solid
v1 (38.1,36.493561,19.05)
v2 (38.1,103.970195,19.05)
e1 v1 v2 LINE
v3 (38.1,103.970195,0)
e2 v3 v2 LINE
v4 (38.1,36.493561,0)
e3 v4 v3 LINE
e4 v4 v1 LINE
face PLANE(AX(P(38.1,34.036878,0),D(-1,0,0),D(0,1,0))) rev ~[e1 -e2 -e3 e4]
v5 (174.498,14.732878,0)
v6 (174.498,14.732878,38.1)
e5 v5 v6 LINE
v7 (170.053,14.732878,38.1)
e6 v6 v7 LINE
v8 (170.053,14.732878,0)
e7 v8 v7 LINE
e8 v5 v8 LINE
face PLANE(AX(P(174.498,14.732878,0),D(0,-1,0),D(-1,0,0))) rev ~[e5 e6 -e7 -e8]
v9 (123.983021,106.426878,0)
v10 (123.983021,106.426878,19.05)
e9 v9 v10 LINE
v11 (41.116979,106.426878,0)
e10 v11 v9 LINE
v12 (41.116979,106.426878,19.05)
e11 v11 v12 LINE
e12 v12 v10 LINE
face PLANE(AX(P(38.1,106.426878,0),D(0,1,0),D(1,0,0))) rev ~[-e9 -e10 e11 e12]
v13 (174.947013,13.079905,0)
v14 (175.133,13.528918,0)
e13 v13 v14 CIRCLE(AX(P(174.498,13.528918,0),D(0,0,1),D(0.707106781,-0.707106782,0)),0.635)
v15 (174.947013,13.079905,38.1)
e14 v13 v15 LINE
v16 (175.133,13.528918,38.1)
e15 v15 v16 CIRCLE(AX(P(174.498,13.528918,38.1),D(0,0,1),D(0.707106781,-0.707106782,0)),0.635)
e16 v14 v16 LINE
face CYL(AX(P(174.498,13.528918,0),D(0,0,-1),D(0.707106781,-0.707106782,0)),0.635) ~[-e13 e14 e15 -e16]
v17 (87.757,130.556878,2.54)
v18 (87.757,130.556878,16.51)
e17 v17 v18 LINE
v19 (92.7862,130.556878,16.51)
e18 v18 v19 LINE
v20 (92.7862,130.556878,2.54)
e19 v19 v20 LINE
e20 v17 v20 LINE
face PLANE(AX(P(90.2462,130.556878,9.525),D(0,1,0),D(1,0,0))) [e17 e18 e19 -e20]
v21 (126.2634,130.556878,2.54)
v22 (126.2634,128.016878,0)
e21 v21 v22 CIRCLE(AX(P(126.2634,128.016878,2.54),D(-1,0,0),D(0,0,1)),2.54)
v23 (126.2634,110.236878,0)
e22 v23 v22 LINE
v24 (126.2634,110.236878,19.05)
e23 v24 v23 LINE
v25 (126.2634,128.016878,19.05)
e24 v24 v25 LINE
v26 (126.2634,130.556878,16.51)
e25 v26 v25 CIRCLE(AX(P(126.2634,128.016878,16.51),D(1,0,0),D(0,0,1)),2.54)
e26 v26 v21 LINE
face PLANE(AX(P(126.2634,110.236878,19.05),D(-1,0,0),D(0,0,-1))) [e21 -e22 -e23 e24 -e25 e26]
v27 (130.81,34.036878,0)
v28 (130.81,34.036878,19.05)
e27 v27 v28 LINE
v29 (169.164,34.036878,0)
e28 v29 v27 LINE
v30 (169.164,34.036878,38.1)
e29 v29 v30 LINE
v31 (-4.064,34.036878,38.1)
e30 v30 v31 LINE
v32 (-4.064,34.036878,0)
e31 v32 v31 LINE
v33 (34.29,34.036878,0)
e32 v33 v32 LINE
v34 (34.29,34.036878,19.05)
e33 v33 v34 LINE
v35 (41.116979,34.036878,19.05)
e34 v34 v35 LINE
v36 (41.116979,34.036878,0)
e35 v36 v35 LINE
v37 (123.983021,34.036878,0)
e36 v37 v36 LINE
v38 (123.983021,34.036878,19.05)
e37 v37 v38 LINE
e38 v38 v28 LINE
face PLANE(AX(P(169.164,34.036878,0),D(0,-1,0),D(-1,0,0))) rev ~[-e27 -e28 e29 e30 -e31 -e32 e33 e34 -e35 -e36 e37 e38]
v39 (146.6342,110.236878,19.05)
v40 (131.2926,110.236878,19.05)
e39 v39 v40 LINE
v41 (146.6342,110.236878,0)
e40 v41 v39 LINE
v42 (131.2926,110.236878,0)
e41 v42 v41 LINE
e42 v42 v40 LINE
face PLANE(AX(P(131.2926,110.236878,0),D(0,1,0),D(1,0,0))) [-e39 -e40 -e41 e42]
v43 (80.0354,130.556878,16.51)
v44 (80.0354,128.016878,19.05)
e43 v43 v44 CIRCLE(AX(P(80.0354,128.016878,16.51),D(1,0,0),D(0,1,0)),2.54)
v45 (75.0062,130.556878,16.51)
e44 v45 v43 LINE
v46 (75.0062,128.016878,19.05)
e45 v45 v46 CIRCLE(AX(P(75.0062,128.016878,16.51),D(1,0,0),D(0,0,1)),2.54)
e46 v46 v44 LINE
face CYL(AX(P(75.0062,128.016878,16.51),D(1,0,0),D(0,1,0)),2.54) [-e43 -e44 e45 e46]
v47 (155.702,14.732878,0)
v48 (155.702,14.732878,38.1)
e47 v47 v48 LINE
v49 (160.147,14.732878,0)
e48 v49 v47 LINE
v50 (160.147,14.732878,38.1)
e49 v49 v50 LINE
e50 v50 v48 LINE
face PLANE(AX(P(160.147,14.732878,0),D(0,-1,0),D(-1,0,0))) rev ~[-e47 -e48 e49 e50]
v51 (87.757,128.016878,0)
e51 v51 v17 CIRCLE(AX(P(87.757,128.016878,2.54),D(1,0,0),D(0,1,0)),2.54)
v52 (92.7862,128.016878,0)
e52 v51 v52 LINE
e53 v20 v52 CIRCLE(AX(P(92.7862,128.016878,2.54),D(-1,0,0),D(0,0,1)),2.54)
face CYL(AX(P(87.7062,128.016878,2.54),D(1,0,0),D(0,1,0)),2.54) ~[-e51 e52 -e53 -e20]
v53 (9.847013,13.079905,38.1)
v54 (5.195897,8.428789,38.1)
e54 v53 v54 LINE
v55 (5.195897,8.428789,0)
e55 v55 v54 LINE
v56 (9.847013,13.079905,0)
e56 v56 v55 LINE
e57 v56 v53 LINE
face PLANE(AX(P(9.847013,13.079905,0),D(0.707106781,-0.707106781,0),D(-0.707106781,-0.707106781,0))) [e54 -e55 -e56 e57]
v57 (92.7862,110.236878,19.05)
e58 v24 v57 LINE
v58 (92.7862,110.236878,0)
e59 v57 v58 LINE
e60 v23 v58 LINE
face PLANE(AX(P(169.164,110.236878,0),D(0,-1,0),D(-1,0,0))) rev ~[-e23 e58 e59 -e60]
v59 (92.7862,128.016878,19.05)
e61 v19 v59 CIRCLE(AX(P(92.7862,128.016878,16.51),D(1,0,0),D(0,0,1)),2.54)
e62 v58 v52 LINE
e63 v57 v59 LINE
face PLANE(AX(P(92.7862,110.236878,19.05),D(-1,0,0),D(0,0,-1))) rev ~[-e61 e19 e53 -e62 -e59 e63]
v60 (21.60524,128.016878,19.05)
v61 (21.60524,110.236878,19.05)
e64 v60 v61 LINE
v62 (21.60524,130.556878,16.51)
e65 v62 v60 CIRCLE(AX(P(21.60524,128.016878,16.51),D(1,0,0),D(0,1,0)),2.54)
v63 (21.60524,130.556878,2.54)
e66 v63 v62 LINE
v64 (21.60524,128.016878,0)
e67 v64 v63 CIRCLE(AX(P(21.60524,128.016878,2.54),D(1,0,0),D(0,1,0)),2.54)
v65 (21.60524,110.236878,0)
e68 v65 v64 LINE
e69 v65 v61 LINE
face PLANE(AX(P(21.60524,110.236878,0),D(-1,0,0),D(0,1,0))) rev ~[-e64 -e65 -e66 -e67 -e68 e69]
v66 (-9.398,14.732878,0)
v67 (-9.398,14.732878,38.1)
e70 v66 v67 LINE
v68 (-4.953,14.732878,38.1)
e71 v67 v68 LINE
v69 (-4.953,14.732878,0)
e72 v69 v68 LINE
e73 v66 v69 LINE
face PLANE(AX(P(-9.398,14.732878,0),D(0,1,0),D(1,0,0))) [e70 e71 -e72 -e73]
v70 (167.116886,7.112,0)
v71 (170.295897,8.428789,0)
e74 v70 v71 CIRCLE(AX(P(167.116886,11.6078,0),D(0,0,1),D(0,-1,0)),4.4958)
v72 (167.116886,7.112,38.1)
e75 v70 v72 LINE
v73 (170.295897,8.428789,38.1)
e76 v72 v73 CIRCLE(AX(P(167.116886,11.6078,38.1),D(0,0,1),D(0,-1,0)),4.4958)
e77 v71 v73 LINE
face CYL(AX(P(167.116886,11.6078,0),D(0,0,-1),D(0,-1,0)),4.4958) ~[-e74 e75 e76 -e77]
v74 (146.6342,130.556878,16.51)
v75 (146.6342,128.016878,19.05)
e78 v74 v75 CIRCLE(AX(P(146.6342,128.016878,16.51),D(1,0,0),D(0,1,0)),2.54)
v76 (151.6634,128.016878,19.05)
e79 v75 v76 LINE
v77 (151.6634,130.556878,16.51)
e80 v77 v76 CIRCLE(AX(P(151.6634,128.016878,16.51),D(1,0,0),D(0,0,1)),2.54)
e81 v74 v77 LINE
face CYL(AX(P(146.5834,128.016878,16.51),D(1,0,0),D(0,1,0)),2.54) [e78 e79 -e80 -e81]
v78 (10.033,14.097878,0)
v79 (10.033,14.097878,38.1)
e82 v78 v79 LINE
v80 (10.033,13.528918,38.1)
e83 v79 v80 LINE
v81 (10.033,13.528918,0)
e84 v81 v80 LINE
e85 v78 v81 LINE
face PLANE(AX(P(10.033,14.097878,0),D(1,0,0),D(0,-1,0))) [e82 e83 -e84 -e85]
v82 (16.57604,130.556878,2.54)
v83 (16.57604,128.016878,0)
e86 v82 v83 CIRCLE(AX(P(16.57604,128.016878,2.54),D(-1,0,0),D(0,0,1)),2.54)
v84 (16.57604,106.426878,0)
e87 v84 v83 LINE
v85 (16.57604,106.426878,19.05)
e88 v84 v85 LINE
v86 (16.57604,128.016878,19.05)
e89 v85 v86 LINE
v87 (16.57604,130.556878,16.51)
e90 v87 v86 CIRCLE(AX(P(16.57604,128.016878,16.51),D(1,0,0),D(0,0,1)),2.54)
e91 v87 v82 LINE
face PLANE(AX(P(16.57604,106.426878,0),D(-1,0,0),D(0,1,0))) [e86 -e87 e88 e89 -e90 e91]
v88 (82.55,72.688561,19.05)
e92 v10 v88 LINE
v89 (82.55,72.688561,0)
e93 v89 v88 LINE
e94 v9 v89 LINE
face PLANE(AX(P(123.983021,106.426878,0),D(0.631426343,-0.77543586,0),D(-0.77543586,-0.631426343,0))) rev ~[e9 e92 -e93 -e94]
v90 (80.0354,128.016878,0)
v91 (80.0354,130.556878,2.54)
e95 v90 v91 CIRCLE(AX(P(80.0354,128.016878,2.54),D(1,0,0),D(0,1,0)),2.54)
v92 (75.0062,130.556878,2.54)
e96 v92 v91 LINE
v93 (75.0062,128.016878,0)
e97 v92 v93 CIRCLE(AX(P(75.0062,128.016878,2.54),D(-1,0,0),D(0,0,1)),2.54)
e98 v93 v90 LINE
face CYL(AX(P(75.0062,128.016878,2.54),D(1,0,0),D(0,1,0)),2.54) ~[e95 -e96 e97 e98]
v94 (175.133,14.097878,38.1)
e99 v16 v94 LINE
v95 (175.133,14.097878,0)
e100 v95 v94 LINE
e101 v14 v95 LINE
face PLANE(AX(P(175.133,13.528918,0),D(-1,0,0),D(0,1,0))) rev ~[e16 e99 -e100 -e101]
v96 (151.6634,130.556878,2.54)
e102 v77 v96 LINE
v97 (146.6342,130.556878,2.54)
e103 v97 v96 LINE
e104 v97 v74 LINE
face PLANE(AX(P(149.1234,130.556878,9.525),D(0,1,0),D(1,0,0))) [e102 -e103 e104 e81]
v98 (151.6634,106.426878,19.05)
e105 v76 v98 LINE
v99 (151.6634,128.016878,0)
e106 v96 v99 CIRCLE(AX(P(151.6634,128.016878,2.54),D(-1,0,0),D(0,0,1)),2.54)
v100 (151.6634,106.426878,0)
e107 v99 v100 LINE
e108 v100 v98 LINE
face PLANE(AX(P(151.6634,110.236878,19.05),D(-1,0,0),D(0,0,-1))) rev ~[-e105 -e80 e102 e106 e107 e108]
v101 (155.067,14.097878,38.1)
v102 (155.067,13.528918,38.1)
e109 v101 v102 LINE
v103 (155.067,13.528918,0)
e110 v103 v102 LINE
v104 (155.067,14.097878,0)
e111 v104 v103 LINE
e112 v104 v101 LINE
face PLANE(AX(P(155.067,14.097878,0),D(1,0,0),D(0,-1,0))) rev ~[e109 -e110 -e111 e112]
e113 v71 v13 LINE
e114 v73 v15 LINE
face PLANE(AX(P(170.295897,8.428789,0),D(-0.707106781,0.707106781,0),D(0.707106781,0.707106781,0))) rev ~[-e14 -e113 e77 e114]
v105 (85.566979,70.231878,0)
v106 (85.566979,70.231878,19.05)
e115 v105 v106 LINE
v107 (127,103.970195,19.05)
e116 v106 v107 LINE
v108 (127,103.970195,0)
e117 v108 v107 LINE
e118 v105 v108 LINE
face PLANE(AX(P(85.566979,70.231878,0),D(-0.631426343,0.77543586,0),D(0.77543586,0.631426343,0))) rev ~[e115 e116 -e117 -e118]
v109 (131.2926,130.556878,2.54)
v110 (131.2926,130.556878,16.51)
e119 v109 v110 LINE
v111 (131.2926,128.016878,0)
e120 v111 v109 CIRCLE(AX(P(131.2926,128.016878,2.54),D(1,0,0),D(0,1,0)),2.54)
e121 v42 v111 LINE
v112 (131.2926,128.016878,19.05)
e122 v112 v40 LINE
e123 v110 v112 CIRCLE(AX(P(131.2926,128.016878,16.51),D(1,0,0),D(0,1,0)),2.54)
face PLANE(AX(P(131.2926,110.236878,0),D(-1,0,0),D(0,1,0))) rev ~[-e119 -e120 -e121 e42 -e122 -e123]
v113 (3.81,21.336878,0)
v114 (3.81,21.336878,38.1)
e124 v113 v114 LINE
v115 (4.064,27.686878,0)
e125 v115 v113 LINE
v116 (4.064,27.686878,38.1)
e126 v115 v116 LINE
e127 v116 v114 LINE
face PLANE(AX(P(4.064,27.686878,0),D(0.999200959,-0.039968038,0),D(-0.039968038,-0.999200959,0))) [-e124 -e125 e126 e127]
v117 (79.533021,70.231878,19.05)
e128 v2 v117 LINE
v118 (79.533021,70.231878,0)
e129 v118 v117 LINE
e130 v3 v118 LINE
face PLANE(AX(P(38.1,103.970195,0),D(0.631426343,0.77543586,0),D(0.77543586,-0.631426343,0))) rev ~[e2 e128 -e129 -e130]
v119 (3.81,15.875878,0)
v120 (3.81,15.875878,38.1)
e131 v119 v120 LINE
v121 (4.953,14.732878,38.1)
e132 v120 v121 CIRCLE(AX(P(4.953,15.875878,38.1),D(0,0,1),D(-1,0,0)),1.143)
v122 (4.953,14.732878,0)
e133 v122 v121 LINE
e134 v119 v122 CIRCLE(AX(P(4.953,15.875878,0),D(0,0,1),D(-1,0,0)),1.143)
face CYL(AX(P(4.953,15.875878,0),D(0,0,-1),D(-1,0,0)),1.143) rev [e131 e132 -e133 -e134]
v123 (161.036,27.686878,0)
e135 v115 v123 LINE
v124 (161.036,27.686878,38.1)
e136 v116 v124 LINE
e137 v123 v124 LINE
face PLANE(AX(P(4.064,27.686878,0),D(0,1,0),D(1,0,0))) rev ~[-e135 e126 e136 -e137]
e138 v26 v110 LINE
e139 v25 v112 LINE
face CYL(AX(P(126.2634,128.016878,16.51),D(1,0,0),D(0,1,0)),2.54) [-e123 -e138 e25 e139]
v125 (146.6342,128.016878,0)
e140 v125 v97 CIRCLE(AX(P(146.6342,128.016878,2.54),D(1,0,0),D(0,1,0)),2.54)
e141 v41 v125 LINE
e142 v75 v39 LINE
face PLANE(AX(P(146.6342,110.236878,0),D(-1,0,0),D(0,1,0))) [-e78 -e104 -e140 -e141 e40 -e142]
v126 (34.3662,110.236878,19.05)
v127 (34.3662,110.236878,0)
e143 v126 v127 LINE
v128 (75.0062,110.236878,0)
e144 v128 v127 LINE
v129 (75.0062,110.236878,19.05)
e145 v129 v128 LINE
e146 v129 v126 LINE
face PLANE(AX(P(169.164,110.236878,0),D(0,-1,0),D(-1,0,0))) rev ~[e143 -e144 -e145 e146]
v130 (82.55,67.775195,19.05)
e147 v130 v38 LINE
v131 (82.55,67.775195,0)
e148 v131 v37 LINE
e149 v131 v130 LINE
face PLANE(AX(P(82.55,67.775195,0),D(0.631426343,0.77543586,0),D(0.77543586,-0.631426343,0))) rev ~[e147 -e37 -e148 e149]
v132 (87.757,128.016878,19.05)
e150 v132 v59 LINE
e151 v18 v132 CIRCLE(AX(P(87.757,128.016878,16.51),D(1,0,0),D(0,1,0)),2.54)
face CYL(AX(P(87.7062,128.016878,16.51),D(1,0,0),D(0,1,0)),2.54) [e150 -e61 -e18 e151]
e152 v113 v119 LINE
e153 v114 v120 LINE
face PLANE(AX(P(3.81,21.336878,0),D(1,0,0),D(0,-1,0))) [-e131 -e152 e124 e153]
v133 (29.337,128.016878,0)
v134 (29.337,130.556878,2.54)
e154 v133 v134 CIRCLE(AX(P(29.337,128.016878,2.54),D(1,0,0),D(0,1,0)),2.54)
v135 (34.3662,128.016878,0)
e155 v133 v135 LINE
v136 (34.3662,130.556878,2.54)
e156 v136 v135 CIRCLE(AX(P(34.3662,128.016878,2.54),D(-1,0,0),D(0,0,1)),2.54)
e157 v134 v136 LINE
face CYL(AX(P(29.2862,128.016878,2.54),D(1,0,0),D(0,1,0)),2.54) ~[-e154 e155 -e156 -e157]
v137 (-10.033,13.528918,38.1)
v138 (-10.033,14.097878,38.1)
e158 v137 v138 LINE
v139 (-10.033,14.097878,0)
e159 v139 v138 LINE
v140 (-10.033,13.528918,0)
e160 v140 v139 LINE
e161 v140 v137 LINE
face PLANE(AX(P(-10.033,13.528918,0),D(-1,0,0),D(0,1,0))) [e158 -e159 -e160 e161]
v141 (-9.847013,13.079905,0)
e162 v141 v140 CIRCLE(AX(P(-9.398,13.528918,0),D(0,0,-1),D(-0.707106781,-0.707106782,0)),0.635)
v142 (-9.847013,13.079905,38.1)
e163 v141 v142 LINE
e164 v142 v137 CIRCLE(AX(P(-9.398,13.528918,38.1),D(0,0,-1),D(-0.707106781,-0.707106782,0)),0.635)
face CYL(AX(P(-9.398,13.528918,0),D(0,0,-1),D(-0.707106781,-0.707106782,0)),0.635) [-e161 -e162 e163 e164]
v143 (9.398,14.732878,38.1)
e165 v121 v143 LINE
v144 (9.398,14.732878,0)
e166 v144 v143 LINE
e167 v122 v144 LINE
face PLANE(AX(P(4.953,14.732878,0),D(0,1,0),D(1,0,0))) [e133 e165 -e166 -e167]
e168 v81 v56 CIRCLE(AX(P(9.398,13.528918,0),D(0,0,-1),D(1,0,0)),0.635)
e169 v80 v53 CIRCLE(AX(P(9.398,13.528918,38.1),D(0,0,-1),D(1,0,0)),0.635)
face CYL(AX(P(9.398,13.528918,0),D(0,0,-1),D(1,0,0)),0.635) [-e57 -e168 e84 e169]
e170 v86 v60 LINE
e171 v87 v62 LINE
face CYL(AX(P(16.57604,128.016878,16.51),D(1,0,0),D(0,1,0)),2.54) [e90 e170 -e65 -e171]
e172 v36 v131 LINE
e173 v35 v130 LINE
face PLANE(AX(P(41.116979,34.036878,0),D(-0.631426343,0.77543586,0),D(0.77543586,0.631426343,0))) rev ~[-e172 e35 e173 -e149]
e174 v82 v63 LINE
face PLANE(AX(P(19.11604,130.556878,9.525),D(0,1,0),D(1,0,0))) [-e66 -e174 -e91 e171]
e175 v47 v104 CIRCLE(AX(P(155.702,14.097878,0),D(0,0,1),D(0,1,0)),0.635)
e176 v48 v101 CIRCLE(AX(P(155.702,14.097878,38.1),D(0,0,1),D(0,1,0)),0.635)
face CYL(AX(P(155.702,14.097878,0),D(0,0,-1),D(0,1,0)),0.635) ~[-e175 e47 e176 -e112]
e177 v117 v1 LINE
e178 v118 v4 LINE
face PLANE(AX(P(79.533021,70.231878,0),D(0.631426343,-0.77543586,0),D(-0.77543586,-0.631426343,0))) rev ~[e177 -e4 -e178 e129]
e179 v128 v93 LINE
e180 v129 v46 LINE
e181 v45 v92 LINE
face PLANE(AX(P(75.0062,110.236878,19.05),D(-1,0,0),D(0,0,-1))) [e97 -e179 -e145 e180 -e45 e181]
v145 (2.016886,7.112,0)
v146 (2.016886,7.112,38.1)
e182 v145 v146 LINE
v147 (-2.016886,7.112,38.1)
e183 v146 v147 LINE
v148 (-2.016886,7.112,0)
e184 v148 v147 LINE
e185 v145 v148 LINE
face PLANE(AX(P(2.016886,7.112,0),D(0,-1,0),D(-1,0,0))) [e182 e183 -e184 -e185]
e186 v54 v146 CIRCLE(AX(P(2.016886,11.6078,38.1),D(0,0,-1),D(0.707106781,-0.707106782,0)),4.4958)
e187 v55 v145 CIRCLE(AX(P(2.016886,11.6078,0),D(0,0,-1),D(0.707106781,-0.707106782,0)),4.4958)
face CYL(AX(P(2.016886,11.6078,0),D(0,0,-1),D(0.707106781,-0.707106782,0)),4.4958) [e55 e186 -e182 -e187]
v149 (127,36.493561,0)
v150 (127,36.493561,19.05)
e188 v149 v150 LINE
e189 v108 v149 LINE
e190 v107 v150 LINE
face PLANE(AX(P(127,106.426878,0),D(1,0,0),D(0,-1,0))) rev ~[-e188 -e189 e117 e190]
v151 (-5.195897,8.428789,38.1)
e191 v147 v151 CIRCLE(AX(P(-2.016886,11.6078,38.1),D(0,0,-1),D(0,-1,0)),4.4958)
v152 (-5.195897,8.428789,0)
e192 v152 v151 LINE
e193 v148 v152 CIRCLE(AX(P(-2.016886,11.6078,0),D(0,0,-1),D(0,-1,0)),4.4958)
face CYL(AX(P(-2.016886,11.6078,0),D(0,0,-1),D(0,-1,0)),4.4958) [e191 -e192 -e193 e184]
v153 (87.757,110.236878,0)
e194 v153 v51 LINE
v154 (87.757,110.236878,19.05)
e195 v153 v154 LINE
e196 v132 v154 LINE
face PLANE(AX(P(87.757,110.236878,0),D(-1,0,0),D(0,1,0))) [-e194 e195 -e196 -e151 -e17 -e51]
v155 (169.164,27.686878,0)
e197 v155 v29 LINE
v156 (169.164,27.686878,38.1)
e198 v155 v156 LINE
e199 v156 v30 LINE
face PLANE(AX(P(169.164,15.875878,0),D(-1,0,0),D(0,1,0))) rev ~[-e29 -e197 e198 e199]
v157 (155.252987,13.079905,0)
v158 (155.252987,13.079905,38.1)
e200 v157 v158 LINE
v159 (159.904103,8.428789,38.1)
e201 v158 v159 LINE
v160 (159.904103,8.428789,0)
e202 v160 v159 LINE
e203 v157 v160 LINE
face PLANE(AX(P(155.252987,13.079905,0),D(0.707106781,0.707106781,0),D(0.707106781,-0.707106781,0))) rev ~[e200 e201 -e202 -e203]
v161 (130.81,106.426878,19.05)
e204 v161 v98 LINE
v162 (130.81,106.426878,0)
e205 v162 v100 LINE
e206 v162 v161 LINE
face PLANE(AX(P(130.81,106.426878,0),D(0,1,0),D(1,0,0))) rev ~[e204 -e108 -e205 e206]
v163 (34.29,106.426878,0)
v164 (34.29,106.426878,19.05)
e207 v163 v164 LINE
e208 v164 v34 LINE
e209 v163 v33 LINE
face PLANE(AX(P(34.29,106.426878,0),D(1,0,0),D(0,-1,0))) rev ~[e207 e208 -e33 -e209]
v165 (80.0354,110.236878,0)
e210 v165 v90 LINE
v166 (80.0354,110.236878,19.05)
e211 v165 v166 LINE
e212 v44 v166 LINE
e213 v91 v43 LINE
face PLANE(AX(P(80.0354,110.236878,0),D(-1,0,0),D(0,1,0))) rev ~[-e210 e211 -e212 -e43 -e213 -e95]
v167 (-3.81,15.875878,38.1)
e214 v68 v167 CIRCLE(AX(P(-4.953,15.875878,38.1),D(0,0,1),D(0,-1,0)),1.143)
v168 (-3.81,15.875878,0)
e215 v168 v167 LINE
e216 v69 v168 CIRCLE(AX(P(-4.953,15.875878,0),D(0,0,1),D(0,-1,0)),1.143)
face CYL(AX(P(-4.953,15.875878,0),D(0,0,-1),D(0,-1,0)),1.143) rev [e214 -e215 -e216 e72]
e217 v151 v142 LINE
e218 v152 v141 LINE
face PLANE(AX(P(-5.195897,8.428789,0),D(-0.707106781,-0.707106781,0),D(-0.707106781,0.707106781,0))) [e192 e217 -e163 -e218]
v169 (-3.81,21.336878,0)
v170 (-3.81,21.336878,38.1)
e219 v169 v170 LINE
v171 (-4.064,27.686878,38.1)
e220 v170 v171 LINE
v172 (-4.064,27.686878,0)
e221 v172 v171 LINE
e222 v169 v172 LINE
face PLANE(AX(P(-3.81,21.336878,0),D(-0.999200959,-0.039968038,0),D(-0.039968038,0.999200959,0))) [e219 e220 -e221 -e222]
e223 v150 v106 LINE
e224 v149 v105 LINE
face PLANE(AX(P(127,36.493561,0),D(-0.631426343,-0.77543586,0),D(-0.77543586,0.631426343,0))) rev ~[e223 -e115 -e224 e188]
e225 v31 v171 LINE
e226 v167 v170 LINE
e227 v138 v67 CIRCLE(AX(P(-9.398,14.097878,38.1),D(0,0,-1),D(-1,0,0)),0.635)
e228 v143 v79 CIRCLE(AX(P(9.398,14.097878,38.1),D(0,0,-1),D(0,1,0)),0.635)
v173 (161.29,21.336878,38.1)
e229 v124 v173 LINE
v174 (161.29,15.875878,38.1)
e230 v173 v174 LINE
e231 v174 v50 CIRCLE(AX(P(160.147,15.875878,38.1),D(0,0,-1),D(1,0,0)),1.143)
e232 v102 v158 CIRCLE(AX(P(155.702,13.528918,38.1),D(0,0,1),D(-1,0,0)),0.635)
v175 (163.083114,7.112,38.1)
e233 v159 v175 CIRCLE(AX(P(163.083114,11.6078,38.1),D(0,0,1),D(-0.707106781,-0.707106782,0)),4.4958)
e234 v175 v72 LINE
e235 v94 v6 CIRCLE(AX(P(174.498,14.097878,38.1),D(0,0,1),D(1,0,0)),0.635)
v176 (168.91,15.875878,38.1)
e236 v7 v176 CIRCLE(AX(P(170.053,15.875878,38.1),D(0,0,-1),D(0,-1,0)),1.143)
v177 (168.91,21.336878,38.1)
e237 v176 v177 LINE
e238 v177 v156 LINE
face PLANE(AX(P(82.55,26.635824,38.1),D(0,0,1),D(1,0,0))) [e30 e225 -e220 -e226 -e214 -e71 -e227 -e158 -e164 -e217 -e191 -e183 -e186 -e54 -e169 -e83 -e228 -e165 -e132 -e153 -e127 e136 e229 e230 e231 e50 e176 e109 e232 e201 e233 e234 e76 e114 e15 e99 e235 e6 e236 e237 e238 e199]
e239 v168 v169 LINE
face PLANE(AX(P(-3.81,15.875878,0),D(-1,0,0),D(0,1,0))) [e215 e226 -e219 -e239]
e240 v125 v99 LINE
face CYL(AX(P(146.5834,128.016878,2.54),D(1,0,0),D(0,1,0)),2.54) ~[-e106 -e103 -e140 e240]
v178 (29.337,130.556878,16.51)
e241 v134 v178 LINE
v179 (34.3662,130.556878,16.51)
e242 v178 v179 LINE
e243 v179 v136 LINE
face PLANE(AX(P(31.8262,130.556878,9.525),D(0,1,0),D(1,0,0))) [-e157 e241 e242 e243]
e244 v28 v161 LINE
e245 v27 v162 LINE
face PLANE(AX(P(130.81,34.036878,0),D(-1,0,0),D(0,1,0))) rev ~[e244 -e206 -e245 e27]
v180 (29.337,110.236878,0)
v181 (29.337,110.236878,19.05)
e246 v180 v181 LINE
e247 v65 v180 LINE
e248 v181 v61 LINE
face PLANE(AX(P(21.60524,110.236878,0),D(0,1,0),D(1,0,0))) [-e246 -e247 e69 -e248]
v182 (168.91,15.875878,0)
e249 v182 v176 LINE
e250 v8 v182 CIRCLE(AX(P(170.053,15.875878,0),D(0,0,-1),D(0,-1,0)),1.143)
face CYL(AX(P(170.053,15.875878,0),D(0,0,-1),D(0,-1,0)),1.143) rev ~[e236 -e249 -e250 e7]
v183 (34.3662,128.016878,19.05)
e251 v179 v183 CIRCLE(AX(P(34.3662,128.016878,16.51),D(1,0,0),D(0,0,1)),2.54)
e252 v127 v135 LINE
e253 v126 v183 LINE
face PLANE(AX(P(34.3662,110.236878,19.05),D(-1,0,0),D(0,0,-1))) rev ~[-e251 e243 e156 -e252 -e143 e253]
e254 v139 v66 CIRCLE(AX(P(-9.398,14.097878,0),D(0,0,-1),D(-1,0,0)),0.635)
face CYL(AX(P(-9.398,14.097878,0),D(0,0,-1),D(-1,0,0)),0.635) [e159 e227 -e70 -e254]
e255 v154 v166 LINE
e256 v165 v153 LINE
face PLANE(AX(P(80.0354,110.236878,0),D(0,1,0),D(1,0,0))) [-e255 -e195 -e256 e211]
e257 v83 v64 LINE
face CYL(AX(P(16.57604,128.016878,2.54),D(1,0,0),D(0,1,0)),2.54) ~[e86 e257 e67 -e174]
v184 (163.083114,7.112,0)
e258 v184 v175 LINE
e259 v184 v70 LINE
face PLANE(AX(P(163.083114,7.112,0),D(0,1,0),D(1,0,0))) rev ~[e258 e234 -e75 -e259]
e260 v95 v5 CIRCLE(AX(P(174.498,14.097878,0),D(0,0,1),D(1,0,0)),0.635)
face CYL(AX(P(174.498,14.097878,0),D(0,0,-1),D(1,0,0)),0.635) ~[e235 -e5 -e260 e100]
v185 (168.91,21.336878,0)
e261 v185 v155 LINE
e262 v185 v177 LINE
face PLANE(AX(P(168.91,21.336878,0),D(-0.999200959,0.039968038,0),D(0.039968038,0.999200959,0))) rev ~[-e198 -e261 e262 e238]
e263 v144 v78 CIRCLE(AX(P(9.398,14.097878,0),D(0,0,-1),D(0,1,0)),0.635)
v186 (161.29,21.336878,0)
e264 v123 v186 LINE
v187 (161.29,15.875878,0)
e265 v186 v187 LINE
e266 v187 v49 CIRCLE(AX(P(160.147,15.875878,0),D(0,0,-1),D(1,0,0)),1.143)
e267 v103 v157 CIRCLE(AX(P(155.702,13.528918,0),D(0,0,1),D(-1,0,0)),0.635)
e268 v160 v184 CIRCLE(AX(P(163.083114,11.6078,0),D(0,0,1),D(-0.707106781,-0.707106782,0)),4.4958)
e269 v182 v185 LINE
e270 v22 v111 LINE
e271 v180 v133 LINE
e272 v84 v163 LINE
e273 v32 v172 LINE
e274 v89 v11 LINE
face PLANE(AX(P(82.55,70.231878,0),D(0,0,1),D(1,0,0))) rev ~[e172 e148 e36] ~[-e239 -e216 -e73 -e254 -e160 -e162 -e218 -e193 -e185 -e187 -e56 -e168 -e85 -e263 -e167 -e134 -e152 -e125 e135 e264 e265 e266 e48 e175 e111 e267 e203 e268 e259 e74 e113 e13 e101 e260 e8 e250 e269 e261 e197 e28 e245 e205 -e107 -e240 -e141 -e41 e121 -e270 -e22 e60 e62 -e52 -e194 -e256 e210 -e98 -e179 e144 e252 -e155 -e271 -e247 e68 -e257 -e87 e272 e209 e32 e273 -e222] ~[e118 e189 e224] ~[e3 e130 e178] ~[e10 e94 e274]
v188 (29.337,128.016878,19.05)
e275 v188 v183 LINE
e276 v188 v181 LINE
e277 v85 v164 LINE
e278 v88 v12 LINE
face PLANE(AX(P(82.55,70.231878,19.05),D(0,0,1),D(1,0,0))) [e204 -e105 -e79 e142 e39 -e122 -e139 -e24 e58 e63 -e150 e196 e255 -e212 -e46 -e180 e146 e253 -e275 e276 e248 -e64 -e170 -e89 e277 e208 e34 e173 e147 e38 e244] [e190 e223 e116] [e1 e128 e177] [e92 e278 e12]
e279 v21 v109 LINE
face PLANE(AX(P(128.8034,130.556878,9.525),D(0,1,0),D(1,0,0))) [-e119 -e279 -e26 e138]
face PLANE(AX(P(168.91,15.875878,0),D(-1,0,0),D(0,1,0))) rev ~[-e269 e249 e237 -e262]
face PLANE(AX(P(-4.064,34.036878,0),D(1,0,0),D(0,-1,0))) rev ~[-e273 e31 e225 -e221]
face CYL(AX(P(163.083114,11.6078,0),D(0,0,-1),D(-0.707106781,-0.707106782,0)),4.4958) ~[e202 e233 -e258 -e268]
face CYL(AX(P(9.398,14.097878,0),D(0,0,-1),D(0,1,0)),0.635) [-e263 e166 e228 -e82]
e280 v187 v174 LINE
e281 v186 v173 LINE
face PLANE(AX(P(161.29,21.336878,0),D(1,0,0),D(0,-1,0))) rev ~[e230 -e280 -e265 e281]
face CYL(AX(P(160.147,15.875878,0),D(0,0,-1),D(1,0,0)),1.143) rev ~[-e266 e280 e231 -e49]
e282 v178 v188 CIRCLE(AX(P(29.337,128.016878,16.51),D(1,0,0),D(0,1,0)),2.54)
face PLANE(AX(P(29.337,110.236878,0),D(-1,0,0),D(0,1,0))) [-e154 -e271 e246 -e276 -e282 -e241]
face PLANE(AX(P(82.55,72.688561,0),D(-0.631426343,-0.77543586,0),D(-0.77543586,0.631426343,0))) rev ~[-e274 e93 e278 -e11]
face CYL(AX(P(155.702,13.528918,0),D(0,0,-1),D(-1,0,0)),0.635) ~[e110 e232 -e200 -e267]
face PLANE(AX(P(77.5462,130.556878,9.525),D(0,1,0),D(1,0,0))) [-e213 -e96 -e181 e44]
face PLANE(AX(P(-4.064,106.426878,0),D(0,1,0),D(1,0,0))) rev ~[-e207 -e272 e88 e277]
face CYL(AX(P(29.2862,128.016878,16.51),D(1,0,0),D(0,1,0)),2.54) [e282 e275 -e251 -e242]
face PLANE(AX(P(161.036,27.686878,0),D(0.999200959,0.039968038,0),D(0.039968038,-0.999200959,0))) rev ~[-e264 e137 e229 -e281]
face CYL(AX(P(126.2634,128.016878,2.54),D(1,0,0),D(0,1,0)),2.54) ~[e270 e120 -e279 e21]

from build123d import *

# Parameters (mm, degrees)
BOSS_EXTRUDE2_DEPTH  = 38.1
BOSS_EXTRUDE6_DEPTH  = 19.05
SKETCH6_W            = 5.08
SKETCH6_H            = 19.05
BOSS_EXTRUDE5_DEPTH  = 20.32
SKETCH10_W           = 20.64004
SKETCH10_H           = 3.81
SKETCH10_W_2         = 17.5006
CUT_EXTRUDE3_DEPTH   = 19.05
FILLET1_R            = 2.54
BOSS_EXTRUDE7_DEPTH  = 19.05
CLEARANCE_START      = -38.1
SKETCH3_W            = 7.73176
SKETCH3_H            = 20.32
SKETCH3_W_2          = 7.7216
SKETCH3_W_3          = 15.3416
CLEARANCE_TRIM_DEPTH = 38.1


with BuildPart() as part:
    # Sketch1 → Boss-Extrude2 (new body)
    with BuildSketch(Plane.XY):
        with BuildLine():
            Line((-2.016886463, 6.858), (2.016886463, 6.858))
            ThreePointArc((2.016886463, 6.858), (3.83455623, 7.219556996), (5.375502252, 8.249184211))
            Line((5.375502252, 8.249184211), (10.026617928, 12.900299887))
            ThreePointArc((10.026617928, 12.900299887), (10.219328904, 13.188712244), (10.287, 13.528917816))
            Line((10.287, 13.528917816), (10.287, 14.097877816))
            ThreePointArc((10.287, 14.097877816), (10.026617928, 14.726495744), (9.398, 14.986877816))
            Line((9.398, 14.986877816), (4.953, 14.986877816))
            ThreePointArc((4.953, 14.986877816), (4.324382072, 15.247259887), (4.064, 15.875877816))
            Line((4.064, 15.875877816), (4.064, 27.686877816))
            Line((4.064, 27.686877816), (161.036, 27.686877816))
            Line((161.036, 27.686877816), (161.036, 15.875877816))
            ThreePointArc((161.036, 15.875877816), (160.775617928, 15.247259887), (160.147, 14.986877816))
            Line((160.147, 14.986877816), (155.702, 14.986877816))
            ThreePointArc((155.702, 14.986877816), (155.073382072, 14.726495744), (154.813, 14.097877816))
            Line((154.813, 14.097877816), (154.813, 13.528917816))
            ThreePointArc((154.813, 13.528917816), (154.880671096, 13.188712244), (155.073382072, 12.900299887))
            Line((155.073382072, 12.900299887), (159.724497748, 8.249184211))
            ThreePointArc((159.724497748, 8.249184211), (161.26544377, 7.219556996), (163.083113537, 6.858))
            Line((163.083113537, 6.858), (167.116886463, 6.858))
            ThreePointArc((167.116886463, 6.858), (168.93455623, 7.219556996), (170.475502252, 8.249184211))
            Line((170.475502252, 8.249184211), (175.126617928, 12.900299887))
            ThreePointArc((175.126617928, 12.900299887), (175.319328904, 13.188712244), (175.387, 13.528917816))
            Line((175.387, 13.528917816), (175.387, 14.097877816))
            ThreePointArc((175.387, 14.097877816), (175.126617928, 14.726495744), (174.498, 14.986877816))
            Line((174.498, 14.986877816), (170.053, 14.986877816))
            ThreePointArc((170.053, 14.986877816), (169.424382072, 15.247259887), (169.164, 15.875877816))
            Line((169.164, 15.875877816), (169.164, 27.686877816))
            Line((169.164, 27.686877816), (169.164, 34.036877816))
            Line((169.164, 34.036877816), (-4.064, 34.036877816))
            Line((-4.064, 34.036877816), (-4.064, 27.686877816))
            Line((-4.064, 27.686877816), (-4.064, 15.875877816))
            ThreePointArc((-4.064, 15.875877816), (-4.324382072, 15.247259887), (-4.953, 14.986877816))
            Line((-4.953, 14.986877816), (-9.398, 14.986877816))
            ThreePointArc((-9.398, 14.986877816), (-10.026617928, 14.726495744), (-10.287, 14.097877816))
            Line((-10.287, 14.097877816), (-10.287, 13.528917816))
            ThreePointArc((-10.287, 13.528917816), (-10.219328904, 13.188712244), (-10.026617928, 12.900299887))
            Line((-10.026617928, 12.900299887), (-5.375502252, 8.249184211))
            ThreePointArc((-5.375502252, 8.249184211), (-3.83455623, 7.219556996), (-2.016886463, 6.858))
        make_face()
    extrude(amount=BOSS_EXTRUDE2_DEPTH)

    # Sketch7 → Boss-Extrude6 (add)
    with BuildSketch(Plane.XY):
        Polygon((130.81, 106.426877816), (169.164, 106.426877816), (169.164, 110.236877816), (-4.064, 110.236877816), (-4.064, 106.426877816), (34.29, 106.426877816), (34.29, 34.036877816), (38.1, 34.036877816), (38.1, 106.426877816), (127, 106.426877816), (127, 34.036877816), (130.81, 34.036877816), align=None)
    extrude(amount=BOSS_EXTRUDE6_DEPTH)

    # Sketch6 → Boss-Extrude5 (add)
    with BuildSketch(Plane(origin=(0, 110.236877816, 0), x_dir=(1, 0, 0), z_dir=(0, 1, 0))):
        with Locations((19.11604, -9.525)):
            Rectangle(SKETCH6_W, SKETCH6_H)
        with Locations((31.8262, -9.525)):
            Rectangle(SKETCH6_W, SKETCH6_H)
        with Locations((77.5462, -9.525)):
            Rectangle(SKETCH6_W, SKETCH6_H)
        with Locations((90.2462, -9.525)):
            Rectangle(SKETCH6_W, SKETCH6_H)
        with Locations((128.8034, -9.525)):
            Rectangle(SKETCH6_W, SKETCH6_H)
        with Locations((149.1234, -9.525)):
            Rectangle(SKETCH6_W, SKETCH6_H)
    extrude(amount=BOSS_EXTRUDE5_DEPTH)

    # Sketch10 → Cut-Extrude3 (cut)
    with BuildSketch(Plane.XY):
        with Locations((6.25602, 108.331877816)):
            Rectangle(SKETCH10_W, SKETCH10_H)
        with Locations((160.4137, 108.331877816)):
            Rectangle(SKETCH10_W_2, SKETCH10_H)
    extrude(amount=CUT_EXTRUDE3_DEPTH, mode=Mode.SUBTRACT)

    # Fillet1
    fillet1_edges = [part.edges().sort_by_distance(p)[0] for p in [
        (19.11604, 130.556877816, 19.05),
        (19.11604, 130.556877816, 0),
        (31.8262, 130.556877816, 0),
        (31.8262, 130.556877816, 19.05),
        (77.5462, 130.556877816, 0),
        (77.5462, 130.556877816, 19.05),
        (90.2462, 130.556877816, 0),
        (90.2462, 130.556877816, 19.05),
        (128.8034, 130.556877816, 0),
        (128.8034, 130.556877816, 19.05),
        (149.1234, 130.556877816, 0),
        (149.1234, 130.556877816, 19.05),
    ]]
    fillet(fillet1_edges, radius=FILLET1_R)

    # Sketch11 → Boss-Extrude7 (add)
    with BuildSketch(Plane.XY):
        Polygon((38.1, 103.970194938), (79.533021028, 70.231877816), (38.1, 36.493560693), (38.1, 34.036877816), (41.116978972, 34.036877816), (82.55, 67.775194938), (123.983021028, 34.036877816), (127, 34.036877816), (127, 36.493560693), (85.566978972, 70.231877816), (127, 103.970194938), (127, 106.426877816), (123.983021028, 106.426877816), (82.55, 72.688560693), (41.116978972, 106.426877816), (38.1, 106.426877816), align=None)
    extrude(amount=BOSS_EXTRUDE7_DEPTH)

    # Sketch3 → Clearance Trim (cut)
    with BuildSketch(Plane.XY.offset(38.1).offset(CLEARANCE_START)):
        with BuildLine():
            Line((4.064, 27.686877816), (3.81, 21.336877816))
            Line((3.81, 21.336877816), (3.81, 15.875877816))
            ThreePointArc((3.81, 15.875877816), (4.144776949, 15.067654765), (4.953, 14.732877816))
            Line((4.953, 14.732877816), (9.398, 14.732877816))
            ThreePointArc((9.398, 14.732877816), (9.847012806, 14.546890622), (10.033, 14.097877816))
            Line((10.033, 14.097877816), (10.033, 13.528917816))
            ThreePointArc((10.033, 13.528917816), (9.984663503, 13.285913836), (9.847012806, 13.07990501))
            Line((9.847012806, 13.07990501), (5.19589713, 8.428789333))
            ThreePointArc((5.19589713, 8.428789333), (3.737354638, 7.454222398), (2.016886463, 7.112))
            Line((2.016886463, 7.112), (-2.016886463, 7.112))
            ThreePointArc((-2.016886463, 7.112), (-3.737354638, 7.454222398), (-5.19589713, 8.428789333))
            Line((-5.19589713, 8.428789333), (-9.847012806, 13.07990501))
            ThreePointArc((-9.847012806, 13.07990501), (-9.984663503, 13.285913836), (-10.033, 13.528917816))
            Line((-10.033, 13.528917816), (-10.033, 14.097877816))
            ThreePointArc((-10.033, 14.097877816), (-9.847012806, 14.546890622), (-9.398, 14.732877816))
            Line((-9.398, 14.732877816), (-4.953, 14.732877816))
            ThreePointArc((-4.953, 14.732877816), (-4.144776949, 15.067654765), (-3.81, 15.875877816))
            Line((-3.81, 15.875877816), (-3.81, 21.336877816))
            Line((-3.81, 21.336877816), (-4.064, 27.686877816))
            Line((-4.064, 27.686877816), (-4.064, 15.875877816))
            ThreePointArc((-4.064, 15.875877816), (-4.324382072, 15.247259887), (-4.953, 14.986877816))
            Line((-4.953, 14.986877816), (-9.398, 14.986877816))
            ThreePointArc((-9.398, 14.986877816), (-10.026617928, 14.726495744), (-10.287, 14.097877816))
            Line((-10.287, 14.097877816), (-10.287, 13.528917816))
            ThreePointArc((-10.287, 13.528917816), (-10.219328904, 13.188712244), (-10.026617928, 12.900299887))
            Line((-10.026617928, 12.900299887), (-5.375502252, 8.249184211))
            ThreePointArc((-5.375502252, 8.249184211), (-3.83455623, 7.219556996), (-2.016886463, 6.858))
            Line((-2.016886463, 6.858), (2.016886463, 6.858))
            ThreePointArc((2.016886463, 6.858), (3.83455623, 7.219556996), (5.375502252, 8.249184211))
            Line((5.375502252, 8.249184211), (10.026617928, 12.900299887))
            ThreePointArc((10.026617928, 12.900299887), (10.219328904, 13.188712244), (10.287, 13.528917816))
            Line((10.287, 13.528917816), (10.287, 14.097877816))
            ThreePointArc((10.287, 14.097877816), (10.026617928, 14.726495744), (9.398, 14.986877816))
            Line((9.398, 14.986877816), (4.953, 14.986877816))
            ThreePointArc((4.953, 14.986877816), (4.324382072, 15.247259887), (4.064, 15.875877816))
            Line((4.064, 15.875877816), (4.064, 27.686877816))
        make_face()
        with BuildLine():
            Line((161.036, 27.686877816), (161.29, 21.336877816))
            Line((161.29, 21.336877816), (161.29, 15.875877816))
            ThreePointArc((161.29, 15.875877816), (160.955223051, 15.067654765), (160.147, 14.732877816))
            Line((160.147, 14.732877816), (155.702, 14.732877816))
            ThreePointArc((155.702, 14.732877816), (155.252987194, 14.546890622), (155.067, 14.097877816))
            Line((155.067, 14.097877816), (155.067, 13.528917816))
            ThreePointArc((155.067, 13.528917816), (155.115336497, 13.285913836), (155.252987194, 13.07990501))
            Line((155.252987194, 13.07990501), (159.90410287, 8.428789333))
            ThreePointArc((159.90410287, 8.428789333), (161.362645362, 7.454222398), (163.083113537, 7.112))
            Line((163.083113537, 7.112), (167.116886463, 7.112))
            ThreePointArc((167.116886463, 7.112), (168.837354638, 7.454222398), (170.29589713, 8.428789333))
            Line((170.29589713, 8.428789333), (174.947012806, 13.07990501))
            ThreePointArc((174.947012806, 13.07990501), (175.084663503, 13.285913836), (175.133, 13.528917816))
            Line((175.133, 13.528917816), (175.133, 14.097877816))
            ThreePointArc((175.133, 14.097877816), (174.947012806, 14.546890622), (174.498, 14.732877816))
            Line((174.498, 14.732877816), (170.053, 14.732877816))
            ThreePointArc((170.053, 14.732877816), (169.244776949, 15.067654765), (168.91, 15.875877816))
            Line((168.91, 15.875877816), (168.91, 21.336877816))
            Line((168.91, 21.336877816), (169.164, 27.686877816))
            Line((169.164, 27.686877816), (169.164, 15.875877816))
            ThreePointArc((169.164, 15.875877816), (169.424382072, 15.247259887), (170.053, 14.986877816))
            Line((170.053, 14.986877816), (174.498, 14.986877816))
            ThreePointArc((174.498, 14.986877816), (175.126617928, 14.726495744), (175.387, 14.097877816))
            Line((175.387, 14.097877816), (175.387, 13.528917816))
            ThreePointArc((175.387, 13.528917816), (175.319328904, 13.188712244), (175.126617928, 12.900299887))
            Line((175.126617928, 12.900299887), (170.475502252, 8.249184211))
            ThreePointArc((170.475502252, 8.249184211), (168.93455623, 7.219556996), (167.116886463, 6.858))
            Line((167.116886463, 6.858), (163.083113537, 6.858))
            ThreePointArc((163.083113537, 6.858), (161.26544377, 7.219556996), (159.724497748, 8.249184211))
            Line((159.724497748, 8.249184211), (155.073382072, 12.900299887))
            ThreePointArc((155.073382072, 12.900299887), (154.880671096, 13.188712244), (154.813, 13.528917816))
            Line((154.813, 13.528917816), (154.813, 14.097877816))
            ThreePointArc((154.813, 14.097877816), (155.073382072, 14.726495744), (155.702, 14.986877816))
            Line((155.702, 14.986877816), (160.147, 14.986877816))
            ThreePointArc((160.147, 14.986877816), (160.775617928, 15.247259887), (161.036, 15.875877816))
            Line((161.036, 15.875877816), (161.036, 27.686877816))
        make_face()
        with Locations((25.47112, 120.396877816)):
            Rectangle(SKETCH3_W, SKETCH3_H)
        with Locations((83.8962, 120.396877816)):
            Rectangle(SKETCH3_W_2, SKETCH3_H)
        with Locations((138.9634, 120.396877816)):
            Rectangle(SKETCH3_W_3, SKETCH3_H)
    extrude(amount=CLEARANCE_TRIM_DEPTH, mode=Mode.SUBTRACT)


solid = part.part
